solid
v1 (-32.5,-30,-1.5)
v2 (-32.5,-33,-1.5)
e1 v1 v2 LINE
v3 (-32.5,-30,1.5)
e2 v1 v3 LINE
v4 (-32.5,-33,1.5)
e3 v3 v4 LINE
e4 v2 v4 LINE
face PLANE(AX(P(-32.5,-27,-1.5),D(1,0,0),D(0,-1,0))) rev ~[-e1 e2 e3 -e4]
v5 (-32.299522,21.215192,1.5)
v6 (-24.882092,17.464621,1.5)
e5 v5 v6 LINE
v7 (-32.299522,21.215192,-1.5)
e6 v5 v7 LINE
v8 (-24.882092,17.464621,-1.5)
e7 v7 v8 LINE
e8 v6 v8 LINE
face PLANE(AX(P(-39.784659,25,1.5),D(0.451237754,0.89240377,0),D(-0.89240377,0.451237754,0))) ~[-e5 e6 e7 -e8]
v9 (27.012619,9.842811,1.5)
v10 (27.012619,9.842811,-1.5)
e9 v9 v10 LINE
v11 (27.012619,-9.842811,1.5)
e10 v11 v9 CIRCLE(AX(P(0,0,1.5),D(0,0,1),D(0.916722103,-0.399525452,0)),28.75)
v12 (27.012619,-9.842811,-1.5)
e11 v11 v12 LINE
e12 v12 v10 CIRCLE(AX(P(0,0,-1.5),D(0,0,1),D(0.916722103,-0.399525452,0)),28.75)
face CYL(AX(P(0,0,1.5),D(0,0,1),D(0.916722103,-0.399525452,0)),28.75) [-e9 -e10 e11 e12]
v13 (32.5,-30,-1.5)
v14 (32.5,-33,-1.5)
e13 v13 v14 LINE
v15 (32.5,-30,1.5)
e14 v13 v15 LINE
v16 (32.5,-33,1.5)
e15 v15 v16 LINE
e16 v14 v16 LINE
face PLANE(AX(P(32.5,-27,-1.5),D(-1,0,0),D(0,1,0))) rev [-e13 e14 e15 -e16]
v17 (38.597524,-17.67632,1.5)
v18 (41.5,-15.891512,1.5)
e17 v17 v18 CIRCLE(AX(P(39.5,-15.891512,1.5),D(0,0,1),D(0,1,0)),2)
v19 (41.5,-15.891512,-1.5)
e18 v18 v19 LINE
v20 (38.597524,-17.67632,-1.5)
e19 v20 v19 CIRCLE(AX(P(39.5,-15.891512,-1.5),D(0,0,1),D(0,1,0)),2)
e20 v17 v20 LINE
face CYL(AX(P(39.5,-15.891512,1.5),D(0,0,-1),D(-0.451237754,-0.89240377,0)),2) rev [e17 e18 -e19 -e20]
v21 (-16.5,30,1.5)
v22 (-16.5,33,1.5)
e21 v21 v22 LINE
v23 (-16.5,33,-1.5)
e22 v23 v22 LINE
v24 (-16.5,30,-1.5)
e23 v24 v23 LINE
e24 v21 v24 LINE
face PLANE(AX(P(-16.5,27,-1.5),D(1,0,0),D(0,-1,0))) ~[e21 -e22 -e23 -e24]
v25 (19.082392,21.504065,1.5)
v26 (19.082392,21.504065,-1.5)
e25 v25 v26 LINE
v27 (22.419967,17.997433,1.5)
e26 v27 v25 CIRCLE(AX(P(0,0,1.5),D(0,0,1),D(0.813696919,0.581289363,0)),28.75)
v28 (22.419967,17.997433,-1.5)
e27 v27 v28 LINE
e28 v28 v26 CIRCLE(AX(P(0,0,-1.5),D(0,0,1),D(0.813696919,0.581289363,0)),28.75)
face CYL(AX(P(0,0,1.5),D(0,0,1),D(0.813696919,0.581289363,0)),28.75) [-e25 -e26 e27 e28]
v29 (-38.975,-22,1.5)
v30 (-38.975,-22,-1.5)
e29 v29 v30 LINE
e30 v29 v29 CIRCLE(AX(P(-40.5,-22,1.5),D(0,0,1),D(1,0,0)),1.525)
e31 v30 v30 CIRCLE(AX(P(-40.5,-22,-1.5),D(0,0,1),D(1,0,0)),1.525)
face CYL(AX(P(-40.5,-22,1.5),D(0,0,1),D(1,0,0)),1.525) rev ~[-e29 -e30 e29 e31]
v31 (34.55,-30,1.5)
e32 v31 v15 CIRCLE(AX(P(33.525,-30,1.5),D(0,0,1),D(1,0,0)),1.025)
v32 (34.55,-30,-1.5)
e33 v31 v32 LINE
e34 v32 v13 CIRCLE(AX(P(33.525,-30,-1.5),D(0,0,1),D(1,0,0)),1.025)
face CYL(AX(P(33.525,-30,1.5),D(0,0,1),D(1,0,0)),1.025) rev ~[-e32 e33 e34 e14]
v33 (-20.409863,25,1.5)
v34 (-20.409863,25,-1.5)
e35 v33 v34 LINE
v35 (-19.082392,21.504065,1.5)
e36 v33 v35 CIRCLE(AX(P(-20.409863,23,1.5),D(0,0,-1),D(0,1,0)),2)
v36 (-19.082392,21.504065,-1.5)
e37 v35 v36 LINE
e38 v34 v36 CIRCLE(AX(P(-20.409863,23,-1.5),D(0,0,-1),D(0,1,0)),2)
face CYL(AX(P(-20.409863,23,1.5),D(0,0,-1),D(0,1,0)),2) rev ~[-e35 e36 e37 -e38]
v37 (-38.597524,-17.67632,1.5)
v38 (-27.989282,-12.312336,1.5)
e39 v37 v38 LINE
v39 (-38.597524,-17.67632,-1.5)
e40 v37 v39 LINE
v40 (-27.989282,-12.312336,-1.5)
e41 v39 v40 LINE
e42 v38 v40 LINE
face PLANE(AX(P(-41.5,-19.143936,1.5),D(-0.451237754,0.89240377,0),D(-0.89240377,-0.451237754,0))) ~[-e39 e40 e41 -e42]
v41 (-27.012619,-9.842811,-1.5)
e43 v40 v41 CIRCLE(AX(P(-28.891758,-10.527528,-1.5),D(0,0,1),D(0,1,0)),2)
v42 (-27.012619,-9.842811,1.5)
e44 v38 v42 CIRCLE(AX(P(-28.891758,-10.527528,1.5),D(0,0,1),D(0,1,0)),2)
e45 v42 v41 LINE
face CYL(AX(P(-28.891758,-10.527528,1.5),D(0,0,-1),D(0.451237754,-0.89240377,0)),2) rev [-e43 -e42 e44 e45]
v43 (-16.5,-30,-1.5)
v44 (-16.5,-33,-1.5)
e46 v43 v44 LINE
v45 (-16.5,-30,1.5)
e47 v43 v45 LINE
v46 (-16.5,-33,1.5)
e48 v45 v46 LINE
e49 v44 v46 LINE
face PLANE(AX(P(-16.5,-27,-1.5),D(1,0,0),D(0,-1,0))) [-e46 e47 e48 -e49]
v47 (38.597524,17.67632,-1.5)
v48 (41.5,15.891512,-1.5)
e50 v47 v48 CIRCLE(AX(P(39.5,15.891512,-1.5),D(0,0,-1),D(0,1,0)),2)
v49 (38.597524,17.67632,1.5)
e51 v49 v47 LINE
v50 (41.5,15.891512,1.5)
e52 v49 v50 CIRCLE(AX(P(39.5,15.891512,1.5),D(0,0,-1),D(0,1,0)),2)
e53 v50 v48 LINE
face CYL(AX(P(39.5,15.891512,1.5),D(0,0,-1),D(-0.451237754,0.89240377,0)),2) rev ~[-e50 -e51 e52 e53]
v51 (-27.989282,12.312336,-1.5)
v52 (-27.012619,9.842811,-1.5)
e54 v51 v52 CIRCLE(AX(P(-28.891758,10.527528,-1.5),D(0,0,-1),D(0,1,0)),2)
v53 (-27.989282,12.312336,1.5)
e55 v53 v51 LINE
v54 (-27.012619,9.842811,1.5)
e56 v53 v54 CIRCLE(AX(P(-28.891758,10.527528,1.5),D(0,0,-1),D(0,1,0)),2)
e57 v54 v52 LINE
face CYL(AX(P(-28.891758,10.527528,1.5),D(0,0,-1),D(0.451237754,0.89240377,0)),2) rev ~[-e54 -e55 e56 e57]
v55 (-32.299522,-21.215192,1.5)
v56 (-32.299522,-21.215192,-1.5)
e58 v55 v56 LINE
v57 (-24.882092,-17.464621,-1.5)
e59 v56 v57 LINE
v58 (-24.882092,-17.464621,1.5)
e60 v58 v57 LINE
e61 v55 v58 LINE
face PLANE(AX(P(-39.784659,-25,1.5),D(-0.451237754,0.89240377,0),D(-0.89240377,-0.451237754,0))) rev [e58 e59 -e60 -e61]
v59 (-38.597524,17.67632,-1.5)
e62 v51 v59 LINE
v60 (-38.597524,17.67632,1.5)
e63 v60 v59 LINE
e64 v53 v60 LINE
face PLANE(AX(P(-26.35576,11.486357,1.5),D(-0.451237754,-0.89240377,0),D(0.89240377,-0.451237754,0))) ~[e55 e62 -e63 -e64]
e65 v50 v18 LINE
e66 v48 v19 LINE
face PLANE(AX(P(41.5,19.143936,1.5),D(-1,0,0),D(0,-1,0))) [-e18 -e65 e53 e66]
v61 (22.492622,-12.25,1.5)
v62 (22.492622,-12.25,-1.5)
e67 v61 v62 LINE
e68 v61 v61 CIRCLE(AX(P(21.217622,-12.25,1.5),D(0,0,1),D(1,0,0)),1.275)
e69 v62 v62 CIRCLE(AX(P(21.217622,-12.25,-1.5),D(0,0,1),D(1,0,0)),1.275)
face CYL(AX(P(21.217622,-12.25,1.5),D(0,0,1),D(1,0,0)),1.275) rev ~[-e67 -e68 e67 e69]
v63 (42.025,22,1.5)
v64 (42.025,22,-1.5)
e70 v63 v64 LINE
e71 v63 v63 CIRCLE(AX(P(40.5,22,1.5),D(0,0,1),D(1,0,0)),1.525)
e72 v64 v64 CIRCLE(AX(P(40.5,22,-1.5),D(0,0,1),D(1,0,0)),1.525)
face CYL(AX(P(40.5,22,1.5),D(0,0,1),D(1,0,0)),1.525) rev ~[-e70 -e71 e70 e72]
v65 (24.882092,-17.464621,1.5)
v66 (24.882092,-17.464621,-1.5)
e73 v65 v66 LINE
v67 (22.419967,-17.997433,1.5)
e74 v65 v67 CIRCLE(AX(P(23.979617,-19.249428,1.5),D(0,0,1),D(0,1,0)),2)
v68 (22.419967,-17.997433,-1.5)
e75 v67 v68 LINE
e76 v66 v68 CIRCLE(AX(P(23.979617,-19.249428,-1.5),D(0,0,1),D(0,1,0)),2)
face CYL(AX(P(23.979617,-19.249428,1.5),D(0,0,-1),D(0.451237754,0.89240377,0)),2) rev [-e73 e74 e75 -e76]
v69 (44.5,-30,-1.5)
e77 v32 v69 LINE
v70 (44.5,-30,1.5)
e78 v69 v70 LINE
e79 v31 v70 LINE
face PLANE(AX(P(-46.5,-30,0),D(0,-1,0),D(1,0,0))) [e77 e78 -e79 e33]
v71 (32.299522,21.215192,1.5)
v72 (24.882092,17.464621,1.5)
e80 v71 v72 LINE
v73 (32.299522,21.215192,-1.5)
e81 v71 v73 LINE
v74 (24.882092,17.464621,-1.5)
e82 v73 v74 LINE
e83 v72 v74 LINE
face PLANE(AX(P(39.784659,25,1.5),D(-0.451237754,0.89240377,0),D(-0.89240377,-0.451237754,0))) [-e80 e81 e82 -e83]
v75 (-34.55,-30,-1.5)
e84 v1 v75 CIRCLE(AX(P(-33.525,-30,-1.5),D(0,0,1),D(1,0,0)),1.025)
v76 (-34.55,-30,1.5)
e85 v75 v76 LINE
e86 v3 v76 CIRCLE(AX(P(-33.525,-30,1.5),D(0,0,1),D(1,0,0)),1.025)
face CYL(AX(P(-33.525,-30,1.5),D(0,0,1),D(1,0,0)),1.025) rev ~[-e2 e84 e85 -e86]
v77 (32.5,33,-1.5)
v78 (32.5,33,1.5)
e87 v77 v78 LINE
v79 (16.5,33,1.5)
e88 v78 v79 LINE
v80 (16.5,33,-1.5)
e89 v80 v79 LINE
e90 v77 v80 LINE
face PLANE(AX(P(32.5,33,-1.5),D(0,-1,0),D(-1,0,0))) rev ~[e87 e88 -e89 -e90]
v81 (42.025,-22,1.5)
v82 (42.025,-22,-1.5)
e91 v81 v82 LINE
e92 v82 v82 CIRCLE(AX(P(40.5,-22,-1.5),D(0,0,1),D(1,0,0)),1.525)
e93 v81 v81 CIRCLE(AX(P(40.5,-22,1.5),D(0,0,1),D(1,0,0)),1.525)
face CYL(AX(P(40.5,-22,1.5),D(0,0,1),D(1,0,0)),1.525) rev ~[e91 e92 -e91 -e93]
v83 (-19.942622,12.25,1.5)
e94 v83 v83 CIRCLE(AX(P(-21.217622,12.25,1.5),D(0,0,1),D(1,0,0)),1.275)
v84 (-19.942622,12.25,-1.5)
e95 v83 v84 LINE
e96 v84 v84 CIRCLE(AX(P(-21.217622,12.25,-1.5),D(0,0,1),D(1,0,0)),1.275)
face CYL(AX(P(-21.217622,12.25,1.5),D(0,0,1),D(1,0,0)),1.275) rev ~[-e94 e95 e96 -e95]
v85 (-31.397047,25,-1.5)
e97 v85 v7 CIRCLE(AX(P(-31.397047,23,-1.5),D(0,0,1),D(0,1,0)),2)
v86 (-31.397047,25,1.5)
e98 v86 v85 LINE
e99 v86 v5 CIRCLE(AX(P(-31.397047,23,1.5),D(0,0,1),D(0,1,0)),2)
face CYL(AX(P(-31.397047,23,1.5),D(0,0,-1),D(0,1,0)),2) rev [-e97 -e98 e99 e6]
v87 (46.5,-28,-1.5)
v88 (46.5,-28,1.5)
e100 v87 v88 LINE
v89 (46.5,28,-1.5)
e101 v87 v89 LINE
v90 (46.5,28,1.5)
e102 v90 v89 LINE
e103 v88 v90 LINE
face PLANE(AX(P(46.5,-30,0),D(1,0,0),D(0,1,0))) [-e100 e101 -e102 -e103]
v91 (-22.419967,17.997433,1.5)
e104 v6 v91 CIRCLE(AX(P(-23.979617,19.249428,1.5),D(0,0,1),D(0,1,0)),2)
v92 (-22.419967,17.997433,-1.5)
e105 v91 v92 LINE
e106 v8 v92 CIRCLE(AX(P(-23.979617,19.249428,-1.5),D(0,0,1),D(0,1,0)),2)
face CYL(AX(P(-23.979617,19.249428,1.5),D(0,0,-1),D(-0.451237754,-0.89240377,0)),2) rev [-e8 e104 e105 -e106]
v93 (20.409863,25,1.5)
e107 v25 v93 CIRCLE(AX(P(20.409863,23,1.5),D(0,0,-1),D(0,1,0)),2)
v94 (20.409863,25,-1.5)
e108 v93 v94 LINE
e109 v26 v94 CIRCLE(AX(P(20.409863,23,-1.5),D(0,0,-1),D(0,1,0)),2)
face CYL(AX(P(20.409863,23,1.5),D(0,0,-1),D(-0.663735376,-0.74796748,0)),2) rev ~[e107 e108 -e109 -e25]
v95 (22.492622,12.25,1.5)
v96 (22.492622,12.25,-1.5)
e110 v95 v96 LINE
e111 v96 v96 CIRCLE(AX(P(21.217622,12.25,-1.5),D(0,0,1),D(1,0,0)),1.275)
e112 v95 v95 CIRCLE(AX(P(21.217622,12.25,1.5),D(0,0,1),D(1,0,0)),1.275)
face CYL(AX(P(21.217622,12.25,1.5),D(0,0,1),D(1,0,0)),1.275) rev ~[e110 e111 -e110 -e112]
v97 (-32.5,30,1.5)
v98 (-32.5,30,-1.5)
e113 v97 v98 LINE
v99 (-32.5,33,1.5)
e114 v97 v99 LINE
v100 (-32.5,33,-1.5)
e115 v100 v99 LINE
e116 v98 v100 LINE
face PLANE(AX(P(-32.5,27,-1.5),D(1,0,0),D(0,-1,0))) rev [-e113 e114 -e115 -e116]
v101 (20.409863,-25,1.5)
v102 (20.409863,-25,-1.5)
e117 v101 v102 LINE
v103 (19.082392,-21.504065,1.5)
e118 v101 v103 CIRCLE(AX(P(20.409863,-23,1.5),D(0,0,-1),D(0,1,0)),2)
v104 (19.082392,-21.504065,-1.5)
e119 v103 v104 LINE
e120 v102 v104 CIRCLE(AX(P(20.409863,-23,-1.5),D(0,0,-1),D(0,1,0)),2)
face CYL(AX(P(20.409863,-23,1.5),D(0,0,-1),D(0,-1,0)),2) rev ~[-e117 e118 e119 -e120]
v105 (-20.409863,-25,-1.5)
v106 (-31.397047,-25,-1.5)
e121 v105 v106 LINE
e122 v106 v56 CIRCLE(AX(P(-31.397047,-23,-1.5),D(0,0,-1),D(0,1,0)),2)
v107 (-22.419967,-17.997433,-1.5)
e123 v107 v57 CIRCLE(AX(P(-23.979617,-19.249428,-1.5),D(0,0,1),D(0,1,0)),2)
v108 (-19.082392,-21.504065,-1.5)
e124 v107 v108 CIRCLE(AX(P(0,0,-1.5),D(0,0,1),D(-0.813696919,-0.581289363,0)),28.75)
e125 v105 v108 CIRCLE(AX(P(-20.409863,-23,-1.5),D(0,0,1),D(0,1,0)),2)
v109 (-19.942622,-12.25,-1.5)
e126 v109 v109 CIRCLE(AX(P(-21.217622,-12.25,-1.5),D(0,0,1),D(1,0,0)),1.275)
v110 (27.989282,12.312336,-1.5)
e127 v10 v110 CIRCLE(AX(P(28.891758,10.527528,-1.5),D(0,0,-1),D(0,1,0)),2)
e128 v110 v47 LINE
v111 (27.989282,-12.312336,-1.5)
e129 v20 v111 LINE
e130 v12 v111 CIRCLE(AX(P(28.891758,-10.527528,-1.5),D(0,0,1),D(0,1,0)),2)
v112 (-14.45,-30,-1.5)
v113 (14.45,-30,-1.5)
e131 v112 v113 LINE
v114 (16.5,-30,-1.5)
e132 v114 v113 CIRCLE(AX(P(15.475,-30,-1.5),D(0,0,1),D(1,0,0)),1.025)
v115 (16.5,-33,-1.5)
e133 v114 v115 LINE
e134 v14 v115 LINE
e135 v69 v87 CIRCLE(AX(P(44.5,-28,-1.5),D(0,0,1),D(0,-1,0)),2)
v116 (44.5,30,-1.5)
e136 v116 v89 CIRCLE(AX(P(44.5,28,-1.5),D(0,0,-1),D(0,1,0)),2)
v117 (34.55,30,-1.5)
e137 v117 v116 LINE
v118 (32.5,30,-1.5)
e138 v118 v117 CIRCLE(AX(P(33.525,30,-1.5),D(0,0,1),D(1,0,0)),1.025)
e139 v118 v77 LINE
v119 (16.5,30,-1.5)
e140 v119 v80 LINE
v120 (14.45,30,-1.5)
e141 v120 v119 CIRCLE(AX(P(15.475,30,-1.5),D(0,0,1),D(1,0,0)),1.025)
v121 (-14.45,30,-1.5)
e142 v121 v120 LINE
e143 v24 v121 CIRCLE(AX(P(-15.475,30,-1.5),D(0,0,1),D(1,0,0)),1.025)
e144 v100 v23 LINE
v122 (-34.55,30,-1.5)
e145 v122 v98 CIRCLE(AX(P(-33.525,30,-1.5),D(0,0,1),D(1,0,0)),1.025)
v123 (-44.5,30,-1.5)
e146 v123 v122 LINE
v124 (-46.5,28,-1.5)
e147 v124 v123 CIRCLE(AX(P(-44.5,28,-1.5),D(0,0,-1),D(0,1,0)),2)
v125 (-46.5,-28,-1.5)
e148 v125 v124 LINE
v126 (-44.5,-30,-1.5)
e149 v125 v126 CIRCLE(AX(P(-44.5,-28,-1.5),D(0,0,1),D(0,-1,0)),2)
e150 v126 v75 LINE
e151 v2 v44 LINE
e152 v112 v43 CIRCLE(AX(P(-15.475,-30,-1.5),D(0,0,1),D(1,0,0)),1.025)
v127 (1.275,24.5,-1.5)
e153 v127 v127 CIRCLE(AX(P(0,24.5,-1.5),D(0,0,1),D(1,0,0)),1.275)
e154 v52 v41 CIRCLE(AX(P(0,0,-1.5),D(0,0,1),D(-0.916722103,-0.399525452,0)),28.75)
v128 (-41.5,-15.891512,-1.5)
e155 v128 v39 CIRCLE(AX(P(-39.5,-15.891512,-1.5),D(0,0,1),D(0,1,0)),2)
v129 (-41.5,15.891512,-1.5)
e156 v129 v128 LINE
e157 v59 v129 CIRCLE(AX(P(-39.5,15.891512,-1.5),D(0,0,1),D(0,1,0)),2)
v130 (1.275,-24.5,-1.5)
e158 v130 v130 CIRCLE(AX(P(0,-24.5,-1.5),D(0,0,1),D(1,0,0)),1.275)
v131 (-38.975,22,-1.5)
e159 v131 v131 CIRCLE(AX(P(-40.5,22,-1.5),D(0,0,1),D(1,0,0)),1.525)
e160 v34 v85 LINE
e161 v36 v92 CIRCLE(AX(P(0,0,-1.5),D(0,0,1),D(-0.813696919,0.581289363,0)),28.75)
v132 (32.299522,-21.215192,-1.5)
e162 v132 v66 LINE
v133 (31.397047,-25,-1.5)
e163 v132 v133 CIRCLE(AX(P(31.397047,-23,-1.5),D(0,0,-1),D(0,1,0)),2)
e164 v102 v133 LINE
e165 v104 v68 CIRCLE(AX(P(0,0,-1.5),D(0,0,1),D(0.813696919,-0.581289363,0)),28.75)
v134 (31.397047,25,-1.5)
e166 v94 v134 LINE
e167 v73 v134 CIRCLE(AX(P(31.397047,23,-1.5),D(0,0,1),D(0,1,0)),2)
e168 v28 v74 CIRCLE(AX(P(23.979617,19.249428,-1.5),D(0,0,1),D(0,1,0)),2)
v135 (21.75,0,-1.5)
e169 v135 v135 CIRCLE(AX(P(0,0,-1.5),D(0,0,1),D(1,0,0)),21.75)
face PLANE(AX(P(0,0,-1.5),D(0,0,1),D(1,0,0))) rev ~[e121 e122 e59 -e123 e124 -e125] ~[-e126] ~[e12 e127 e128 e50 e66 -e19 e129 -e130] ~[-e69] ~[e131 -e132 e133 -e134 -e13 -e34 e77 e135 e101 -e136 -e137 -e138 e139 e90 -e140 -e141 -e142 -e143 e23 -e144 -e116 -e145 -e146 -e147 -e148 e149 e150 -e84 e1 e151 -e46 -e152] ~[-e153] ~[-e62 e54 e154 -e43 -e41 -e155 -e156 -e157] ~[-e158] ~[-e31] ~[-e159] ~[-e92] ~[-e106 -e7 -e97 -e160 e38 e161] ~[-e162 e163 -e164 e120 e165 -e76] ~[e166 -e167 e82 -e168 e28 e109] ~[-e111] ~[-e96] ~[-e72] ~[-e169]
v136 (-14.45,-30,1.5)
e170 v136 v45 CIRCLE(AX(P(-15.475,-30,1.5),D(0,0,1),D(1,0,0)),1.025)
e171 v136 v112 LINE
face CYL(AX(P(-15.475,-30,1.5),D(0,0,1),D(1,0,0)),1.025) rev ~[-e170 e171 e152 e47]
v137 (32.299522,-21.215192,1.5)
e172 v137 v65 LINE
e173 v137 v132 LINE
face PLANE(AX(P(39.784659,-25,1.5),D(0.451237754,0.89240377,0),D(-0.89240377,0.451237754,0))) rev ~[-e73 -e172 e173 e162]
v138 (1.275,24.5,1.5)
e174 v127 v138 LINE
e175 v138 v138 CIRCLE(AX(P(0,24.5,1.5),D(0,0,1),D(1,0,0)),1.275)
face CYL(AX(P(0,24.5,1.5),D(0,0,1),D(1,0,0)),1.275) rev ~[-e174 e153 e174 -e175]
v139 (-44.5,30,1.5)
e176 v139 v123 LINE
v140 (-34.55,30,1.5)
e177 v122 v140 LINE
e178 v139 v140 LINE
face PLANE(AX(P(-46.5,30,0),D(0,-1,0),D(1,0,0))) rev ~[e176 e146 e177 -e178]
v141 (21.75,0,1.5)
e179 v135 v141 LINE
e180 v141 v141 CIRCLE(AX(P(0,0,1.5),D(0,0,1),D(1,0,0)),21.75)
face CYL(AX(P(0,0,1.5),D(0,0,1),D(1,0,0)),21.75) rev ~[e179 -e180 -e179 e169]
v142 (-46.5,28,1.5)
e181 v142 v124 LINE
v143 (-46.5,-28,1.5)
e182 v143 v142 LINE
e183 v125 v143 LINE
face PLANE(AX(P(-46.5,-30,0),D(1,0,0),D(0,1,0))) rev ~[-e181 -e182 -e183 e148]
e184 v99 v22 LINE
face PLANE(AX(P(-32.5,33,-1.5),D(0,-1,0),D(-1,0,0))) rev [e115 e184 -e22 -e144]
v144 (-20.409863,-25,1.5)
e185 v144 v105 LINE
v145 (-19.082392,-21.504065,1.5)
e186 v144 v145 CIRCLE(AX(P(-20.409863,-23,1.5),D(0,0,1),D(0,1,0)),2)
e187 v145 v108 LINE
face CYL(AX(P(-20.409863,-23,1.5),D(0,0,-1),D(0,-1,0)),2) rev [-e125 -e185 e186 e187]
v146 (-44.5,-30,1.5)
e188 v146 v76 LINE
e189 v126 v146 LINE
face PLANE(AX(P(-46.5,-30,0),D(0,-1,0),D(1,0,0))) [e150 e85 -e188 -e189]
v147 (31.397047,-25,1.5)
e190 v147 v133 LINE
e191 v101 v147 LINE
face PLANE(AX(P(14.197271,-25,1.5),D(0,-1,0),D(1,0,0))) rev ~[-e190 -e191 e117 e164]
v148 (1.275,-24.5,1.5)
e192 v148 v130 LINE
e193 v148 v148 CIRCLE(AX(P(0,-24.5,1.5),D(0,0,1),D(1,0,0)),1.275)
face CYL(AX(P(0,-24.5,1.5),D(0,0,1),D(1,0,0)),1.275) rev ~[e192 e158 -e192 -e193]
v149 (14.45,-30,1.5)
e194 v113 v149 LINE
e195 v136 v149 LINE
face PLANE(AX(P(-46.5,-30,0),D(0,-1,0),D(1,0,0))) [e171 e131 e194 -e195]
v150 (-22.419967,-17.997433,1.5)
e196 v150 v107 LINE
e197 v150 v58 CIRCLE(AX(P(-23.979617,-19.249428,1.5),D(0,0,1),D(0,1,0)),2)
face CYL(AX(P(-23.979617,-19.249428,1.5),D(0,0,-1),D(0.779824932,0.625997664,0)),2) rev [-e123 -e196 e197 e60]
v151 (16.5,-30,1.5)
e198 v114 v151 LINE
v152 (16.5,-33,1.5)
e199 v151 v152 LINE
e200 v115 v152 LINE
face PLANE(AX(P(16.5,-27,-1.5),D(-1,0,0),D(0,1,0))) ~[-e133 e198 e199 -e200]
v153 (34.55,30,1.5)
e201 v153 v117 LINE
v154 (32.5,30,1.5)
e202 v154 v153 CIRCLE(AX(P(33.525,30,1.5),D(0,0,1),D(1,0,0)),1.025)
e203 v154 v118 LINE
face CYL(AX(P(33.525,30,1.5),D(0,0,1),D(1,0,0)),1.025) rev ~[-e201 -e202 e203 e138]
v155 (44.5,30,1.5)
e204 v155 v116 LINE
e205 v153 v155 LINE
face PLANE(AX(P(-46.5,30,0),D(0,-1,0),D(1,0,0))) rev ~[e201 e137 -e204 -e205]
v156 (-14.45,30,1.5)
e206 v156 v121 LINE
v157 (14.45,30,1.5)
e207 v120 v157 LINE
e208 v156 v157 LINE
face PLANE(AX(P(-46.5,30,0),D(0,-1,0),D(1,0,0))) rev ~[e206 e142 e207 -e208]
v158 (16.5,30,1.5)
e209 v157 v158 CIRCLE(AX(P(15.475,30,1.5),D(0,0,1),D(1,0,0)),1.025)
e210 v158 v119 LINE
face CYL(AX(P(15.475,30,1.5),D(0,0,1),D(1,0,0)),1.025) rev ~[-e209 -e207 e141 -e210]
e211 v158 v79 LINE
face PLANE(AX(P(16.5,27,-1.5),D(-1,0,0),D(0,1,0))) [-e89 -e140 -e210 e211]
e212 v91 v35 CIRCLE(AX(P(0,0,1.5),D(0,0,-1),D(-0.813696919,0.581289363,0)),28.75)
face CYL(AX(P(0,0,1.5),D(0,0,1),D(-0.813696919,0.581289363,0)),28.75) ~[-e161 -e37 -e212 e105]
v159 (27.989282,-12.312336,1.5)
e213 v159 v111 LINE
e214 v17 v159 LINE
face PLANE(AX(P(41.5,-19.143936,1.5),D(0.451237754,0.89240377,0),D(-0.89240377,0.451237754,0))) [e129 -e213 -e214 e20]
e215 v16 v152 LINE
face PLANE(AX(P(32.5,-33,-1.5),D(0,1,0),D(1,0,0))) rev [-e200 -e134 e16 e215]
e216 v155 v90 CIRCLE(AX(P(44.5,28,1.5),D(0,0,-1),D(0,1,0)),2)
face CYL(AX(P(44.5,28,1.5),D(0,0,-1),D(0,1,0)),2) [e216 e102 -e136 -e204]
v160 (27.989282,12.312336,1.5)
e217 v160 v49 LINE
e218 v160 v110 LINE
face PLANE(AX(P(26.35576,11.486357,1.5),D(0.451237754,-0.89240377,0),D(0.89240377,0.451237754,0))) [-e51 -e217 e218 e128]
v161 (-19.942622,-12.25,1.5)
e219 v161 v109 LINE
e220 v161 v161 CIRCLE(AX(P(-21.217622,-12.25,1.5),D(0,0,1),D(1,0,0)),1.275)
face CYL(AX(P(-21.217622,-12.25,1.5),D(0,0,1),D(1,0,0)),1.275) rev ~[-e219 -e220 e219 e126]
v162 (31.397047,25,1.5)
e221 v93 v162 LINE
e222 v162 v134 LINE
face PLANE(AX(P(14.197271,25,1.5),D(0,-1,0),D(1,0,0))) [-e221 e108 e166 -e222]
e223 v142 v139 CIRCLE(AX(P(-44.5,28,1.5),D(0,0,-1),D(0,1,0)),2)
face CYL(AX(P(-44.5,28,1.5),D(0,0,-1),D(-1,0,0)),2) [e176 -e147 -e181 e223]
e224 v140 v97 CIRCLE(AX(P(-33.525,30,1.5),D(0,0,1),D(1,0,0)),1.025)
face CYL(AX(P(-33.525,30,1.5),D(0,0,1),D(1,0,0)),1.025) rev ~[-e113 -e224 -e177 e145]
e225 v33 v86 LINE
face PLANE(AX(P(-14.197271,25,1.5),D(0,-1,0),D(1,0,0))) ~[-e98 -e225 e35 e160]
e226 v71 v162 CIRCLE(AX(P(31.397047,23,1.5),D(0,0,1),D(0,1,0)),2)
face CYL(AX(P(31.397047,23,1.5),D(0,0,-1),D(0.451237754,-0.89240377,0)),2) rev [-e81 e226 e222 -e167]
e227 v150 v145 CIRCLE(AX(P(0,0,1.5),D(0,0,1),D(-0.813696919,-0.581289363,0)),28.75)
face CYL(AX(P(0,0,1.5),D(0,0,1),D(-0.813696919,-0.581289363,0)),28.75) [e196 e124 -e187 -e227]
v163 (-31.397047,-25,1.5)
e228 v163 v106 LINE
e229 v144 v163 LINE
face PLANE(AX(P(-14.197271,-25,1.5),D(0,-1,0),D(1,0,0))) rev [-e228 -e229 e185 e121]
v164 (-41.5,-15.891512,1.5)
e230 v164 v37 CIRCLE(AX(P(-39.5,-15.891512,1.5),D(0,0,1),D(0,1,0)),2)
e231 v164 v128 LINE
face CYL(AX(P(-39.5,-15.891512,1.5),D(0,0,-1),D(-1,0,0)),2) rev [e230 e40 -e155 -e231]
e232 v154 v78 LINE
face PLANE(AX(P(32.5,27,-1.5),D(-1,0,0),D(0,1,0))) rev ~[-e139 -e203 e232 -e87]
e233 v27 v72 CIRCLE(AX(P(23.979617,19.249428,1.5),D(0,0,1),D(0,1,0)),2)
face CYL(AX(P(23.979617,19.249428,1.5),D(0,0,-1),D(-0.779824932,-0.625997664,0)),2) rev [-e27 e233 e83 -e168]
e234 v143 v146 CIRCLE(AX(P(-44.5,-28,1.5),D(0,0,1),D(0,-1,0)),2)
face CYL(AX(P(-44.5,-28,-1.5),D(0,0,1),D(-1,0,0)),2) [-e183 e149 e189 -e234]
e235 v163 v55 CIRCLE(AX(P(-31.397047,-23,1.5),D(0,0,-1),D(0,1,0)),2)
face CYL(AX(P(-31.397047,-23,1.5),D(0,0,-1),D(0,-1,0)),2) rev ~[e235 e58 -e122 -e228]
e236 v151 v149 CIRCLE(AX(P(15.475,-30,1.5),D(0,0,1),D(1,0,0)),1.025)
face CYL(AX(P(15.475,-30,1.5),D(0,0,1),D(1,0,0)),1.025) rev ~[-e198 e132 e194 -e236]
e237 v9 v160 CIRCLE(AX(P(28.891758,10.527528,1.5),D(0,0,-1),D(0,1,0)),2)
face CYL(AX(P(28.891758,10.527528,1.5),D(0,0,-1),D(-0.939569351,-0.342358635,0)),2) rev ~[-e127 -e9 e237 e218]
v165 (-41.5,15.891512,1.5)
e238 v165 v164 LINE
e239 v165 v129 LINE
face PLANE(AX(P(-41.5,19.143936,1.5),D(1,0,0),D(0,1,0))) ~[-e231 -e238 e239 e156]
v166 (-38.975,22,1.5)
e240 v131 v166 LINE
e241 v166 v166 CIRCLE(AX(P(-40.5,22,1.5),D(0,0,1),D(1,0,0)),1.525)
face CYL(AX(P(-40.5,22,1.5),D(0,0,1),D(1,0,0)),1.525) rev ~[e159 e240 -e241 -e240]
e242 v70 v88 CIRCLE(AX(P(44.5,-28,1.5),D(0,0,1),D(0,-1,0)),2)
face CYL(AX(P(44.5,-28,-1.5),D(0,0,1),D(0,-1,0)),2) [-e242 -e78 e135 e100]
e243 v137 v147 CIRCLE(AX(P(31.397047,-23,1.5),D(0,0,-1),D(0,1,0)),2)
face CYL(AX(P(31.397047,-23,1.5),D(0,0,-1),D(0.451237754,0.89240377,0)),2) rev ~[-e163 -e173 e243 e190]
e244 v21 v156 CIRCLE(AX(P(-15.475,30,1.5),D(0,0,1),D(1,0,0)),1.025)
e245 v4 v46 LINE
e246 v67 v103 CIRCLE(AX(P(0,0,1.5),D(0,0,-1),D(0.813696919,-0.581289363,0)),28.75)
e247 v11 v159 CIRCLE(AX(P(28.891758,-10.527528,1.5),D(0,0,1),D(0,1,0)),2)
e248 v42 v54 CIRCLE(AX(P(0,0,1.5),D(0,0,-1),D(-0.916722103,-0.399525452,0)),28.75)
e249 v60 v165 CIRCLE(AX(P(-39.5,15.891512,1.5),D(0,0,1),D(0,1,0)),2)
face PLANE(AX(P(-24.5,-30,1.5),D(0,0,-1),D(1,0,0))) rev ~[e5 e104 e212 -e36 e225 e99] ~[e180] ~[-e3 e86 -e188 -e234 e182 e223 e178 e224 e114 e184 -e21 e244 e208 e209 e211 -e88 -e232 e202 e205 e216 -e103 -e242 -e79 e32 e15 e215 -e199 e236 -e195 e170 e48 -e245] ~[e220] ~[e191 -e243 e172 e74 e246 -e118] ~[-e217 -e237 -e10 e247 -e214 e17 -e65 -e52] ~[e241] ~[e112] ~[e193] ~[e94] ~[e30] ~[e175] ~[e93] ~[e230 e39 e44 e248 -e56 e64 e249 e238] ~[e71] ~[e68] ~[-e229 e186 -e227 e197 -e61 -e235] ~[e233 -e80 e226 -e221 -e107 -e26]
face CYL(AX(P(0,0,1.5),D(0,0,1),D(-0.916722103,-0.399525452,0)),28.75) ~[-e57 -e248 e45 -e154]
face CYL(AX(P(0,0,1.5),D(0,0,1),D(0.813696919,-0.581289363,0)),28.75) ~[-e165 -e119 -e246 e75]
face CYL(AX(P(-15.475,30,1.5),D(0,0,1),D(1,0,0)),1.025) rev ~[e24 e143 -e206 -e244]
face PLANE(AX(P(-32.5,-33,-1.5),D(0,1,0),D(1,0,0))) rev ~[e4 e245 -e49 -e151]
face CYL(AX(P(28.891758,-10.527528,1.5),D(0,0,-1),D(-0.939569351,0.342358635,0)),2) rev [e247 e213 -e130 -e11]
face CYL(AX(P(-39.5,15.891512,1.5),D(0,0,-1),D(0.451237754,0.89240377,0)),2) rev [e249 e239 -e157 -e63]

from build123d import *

# Parameters (mm, degrees)
SKETCH_1_W               = 93
SKETCH_1_H               = 60
EXTRUDE_1_DEPTH          = 1.5
SKETCH_2_R               = 21.75
CUT_EXTRUDE_1_DEPTH      = 12
SKETCH_3_R               = 1.275
CUT_EXTRUDE_2_DEPTH      = 12
SKETCH_4_R               = 1.525
CUT_EXTRUDE_3_DEPTH      = 15
CUT_EXTRUDE_5_DEPTH      = 10
FILLET_1_R               = 2
CUT_EXTRUDE_6_DEPTH      = 10
FILLET_2_R               = 2
SKETCH_10_W              = 16
SKETCH_10_H              = 6
EXTRUDE_2_DEPTH          = 3
MIRROR_5_COPY_1_SKETCH_W = 16
MIRROR_5_COPY_1_SKETCH_H = 6
MIRROR_5_COPY_1_DEPTH    = 3
SKETCH_11_R              = 1.025
CUT_EXTRUDE_8_DEPTH      = 3


with BuildPart() as part:
    # 草图1 → 凸台-拉伸1 (new body, symmetric)
    with BuildSketch(Plane.XY):
        Rectangle(SKETCH_1_W, SKETCH_1_H)
    extrude(amount=EXTRUDE_1_DEPTH, both=True)

    # 草图2 → 切除-拉伸1 (cut, symmetric)
    with BuildSketch(Plane.XY.offset(1.5)):
        Circle(SKETCH_2_R)
    extrude(amount=CUT_EXTRUDE_1_DEPTH, both=True, mode=Mode.SUBTRACT)

    # 草图3 → 切除-拉伸2 (cut, symmetric)
    with BuildSketch(Plane.XY.offset(1.5)):
        with Locations((21.217622393, 12.25)):
            Circle(SKETCH_3_R)
        with Locations((21.217622393, -12.25)):
            Circle(SKETCH_3_R)
        with Locations((0, -24.5)):
            Circle(SKETCH_3_R)
        with Locations((-21.217622393, -12.25)):
            Circle(SKETCH_3_R)
        with Locations((-21.217622393, 12.25)):
            Circle(SKETCH_3_R)
        with Locations((0, 24.5)):
            Circle(SKETCH_3_R)
    extrude(amount=CUT_EXTRUDE_2_DEPTH, both=True, mode=Mode.SUBTRACT)

    # 草图4 → 切除-拉伸3 (cut, symmetric)
    with BuildSketch(Plane.XY.offset(1.5)):
        with Locations((40.5, -22)):
            Circle(SKETCH_4_R)
        with Locations((40.5, 22)):
            Circle(SKETCH_4_R)
        with Locations((-40.5, -22)):
            Circle(SKETCH_4_R)
        with Locations((-40.5, 22)):
            Circle(SKETCH_4_R)
    extrude(amount=CUT_EXTRUDE_3_DEPTH, both=True, mode=Mode.SUBTRACT)

    # 草图6 → 切除-拉伸5 (cut)
    with BuildSketch(Plane.XY.offset(1.5)):
        with BuildLine():
            Line((26.355760449, 11.48635674), (41.5, 19.14393604))
            Line((41.5, 19.14393604), (41.5, -19.14393604))
            Line((41.5, -19.14393604), (26.355760449, -11.48635674))
            ThreePointArc((26.355760449, -11.48635674), (28.75, 0), (26.355760449, 11.48635674))
        make_face()
    cut_extrude_5 = extrude(amount=-CUT_EXTRUDE_5_DEPTH, mode=Mode.SUBTRACT)

    # 镜向1: 切除-拉伸5 across plane
    add(cut_extrude_5.mirror(Plane(origin=(0, 0, 0), x_dir=(0, 0, 1), z_dir=(1, 0, 0))), mode=Mode.SUBTRACT)

    # 圆角1
    fillet_1_edges = [part.edges().sort_by_distance(p)[0] for p in [
        (-26.355760449, 11.48635674, 0),
        (-26.355760449, -11.48635674, 0),
        (-41.5, -19.14393604, 0),
        (-41.5, 19.14393604, 0),
        (46.5, -30, 0),
        (-46.5, -30, 0),
        (-46.5, 30, 0),
        (46.5, 30, 0),
        (26.355760449, -11.48635674, 0),
        (26.355760449, 11.48635674, 0),
        (41.5, 19.14393604, 0),
        (41.5, -19.14393604, 0),
    ]]
    fillet(fillet_1_edges, radius=FILLET_1_R)

    # 草图8 → 切除-拉伸6 (cut)
    with BuildSketch(Plane.XY.offset(1.5)):
        with BuildLine():
            Line((14.197270865, 25), (39.784659393, 25))
            Line((39.784659393, 25), (23.393786426, 16.712069192))
            ThreePointArc((23.393786426, 16.712069192), (19.246930829, 21.356922851), (14.197270865, 25))
        make_face()
        with BuildLine():
            Line((39.784659393, -25), (23.393786426, -16.712069192))
            ThreePointArc((23.393786426, -16.712069192), (19.246930829, -21.356922851), (14.197270865, -25))
            Line((14.197270865, -25), (39.784659393, -25))
        make_face()
    cut_extrude_6 = extrude(amount=-CUT_EXTRUDE_6_DEPTH, mode=Mode.SUBTRACT)

    # 镜向2: 切除-拉伸6 across plane
    add(cut_extrude_6.mirror(Plane(origin=(0, 0, 0), x_dir=(0, 0, 1), z_dir=(1, 0, 0))), mode=Mode.SUBTRACT)

    # 圆角2
    fillet_2_edges = [part.edges().sort_by_distance(p)[0] for p in [
        (23.393786426, 16.712069192, 0),
        (14.197270865, 25, 0),
        (39.784659393, 25, 0),
        (14.197270865, -25, 0),
        (23.393786426, -16.712069192, 0),
        (39.784659393, -25, 0),
        (-14.197270865, 25, 0),
        (-23.393786426, 16.712069192, 0),
        (-39.784659393, 25, 0),
        (-23.393786426, -16.712069192, 0),
        (-14.197270865, -25, 0),
        (-39.784659393, -25, 0),
    ]]
    fillet(fillet_2_edges, radius=FILLET_2_R)

    # 草图10 → 凸台-拉伸2 (add)
    with BuildSketch(Plane(origin=(0, 0, -1.5), x_dir=(-1, 0, 0), z_dir=(0, 0, -1))):
        with Locations((-24.5, 30)):
            Rectangle(SKETCH_10_W, SKETCH_10_H)
    extrude_2 = extrude(amount=-EXTRUDE_2_DEPTH)

    # 镜向4: 凸台-拉伸2 across plane
    add(extrude_2.mirror(Plane(origin=(0, 0, 0), x_dir=(0, 0, 1), z_dir=(1, 0, 0))))

    # 镜向5: 凸台-拉伸2 across plane
    add(extrude_2.mirror(Plane.ZX))

    # 镜向5 copy 1 sketch → 镜向5 copy 1 (add)
    with BuildSketch(Plane(origin=(0, 0, -1.5), x_dir=(1, 0, 0), z_dir=(0, 0, -1))):
        with Locations((-24.5, 30)):
            Rectangle(MIRROR_5_COPY_1_SKETCH_W, MIRROR_5_COPY_1_SKETCH_H)
    extrude(amount=-MIRROR_5_COPY_1_DEPTH)

    # 草图11 → 切除-拉伸8 (cut)
    with BuildSketch(Plane.XY.offset(1.5)):
        with Locations((33.525, 30)):
            Circle(SKETCH_11_R)
        with Locations((15.475, 30)):
            Circle(SKETCH_11_R)
        with Locations((-15.475, 30)):
            Circle(SKETCH_11_R)
        with Locations((-33.525, 30)):
            Circle(SKETCH_11_R)
        with Locations((-33.525, -30)):
            Circle(SKETCH_11_R)
        with Locations((-15.475, -30)):
            Circle(SKETCH_11_R)
        with Locations((15.475, -30)):
            Circle(SKETCH_11_R)
        with Locations((33.525, -30)):
            Circle(SKETCH_11_R)
    extrude(amount=-CUT_EXTRUDE_8_DEPTH, mode=Mode.SUBTRACT)


solid = part.part
